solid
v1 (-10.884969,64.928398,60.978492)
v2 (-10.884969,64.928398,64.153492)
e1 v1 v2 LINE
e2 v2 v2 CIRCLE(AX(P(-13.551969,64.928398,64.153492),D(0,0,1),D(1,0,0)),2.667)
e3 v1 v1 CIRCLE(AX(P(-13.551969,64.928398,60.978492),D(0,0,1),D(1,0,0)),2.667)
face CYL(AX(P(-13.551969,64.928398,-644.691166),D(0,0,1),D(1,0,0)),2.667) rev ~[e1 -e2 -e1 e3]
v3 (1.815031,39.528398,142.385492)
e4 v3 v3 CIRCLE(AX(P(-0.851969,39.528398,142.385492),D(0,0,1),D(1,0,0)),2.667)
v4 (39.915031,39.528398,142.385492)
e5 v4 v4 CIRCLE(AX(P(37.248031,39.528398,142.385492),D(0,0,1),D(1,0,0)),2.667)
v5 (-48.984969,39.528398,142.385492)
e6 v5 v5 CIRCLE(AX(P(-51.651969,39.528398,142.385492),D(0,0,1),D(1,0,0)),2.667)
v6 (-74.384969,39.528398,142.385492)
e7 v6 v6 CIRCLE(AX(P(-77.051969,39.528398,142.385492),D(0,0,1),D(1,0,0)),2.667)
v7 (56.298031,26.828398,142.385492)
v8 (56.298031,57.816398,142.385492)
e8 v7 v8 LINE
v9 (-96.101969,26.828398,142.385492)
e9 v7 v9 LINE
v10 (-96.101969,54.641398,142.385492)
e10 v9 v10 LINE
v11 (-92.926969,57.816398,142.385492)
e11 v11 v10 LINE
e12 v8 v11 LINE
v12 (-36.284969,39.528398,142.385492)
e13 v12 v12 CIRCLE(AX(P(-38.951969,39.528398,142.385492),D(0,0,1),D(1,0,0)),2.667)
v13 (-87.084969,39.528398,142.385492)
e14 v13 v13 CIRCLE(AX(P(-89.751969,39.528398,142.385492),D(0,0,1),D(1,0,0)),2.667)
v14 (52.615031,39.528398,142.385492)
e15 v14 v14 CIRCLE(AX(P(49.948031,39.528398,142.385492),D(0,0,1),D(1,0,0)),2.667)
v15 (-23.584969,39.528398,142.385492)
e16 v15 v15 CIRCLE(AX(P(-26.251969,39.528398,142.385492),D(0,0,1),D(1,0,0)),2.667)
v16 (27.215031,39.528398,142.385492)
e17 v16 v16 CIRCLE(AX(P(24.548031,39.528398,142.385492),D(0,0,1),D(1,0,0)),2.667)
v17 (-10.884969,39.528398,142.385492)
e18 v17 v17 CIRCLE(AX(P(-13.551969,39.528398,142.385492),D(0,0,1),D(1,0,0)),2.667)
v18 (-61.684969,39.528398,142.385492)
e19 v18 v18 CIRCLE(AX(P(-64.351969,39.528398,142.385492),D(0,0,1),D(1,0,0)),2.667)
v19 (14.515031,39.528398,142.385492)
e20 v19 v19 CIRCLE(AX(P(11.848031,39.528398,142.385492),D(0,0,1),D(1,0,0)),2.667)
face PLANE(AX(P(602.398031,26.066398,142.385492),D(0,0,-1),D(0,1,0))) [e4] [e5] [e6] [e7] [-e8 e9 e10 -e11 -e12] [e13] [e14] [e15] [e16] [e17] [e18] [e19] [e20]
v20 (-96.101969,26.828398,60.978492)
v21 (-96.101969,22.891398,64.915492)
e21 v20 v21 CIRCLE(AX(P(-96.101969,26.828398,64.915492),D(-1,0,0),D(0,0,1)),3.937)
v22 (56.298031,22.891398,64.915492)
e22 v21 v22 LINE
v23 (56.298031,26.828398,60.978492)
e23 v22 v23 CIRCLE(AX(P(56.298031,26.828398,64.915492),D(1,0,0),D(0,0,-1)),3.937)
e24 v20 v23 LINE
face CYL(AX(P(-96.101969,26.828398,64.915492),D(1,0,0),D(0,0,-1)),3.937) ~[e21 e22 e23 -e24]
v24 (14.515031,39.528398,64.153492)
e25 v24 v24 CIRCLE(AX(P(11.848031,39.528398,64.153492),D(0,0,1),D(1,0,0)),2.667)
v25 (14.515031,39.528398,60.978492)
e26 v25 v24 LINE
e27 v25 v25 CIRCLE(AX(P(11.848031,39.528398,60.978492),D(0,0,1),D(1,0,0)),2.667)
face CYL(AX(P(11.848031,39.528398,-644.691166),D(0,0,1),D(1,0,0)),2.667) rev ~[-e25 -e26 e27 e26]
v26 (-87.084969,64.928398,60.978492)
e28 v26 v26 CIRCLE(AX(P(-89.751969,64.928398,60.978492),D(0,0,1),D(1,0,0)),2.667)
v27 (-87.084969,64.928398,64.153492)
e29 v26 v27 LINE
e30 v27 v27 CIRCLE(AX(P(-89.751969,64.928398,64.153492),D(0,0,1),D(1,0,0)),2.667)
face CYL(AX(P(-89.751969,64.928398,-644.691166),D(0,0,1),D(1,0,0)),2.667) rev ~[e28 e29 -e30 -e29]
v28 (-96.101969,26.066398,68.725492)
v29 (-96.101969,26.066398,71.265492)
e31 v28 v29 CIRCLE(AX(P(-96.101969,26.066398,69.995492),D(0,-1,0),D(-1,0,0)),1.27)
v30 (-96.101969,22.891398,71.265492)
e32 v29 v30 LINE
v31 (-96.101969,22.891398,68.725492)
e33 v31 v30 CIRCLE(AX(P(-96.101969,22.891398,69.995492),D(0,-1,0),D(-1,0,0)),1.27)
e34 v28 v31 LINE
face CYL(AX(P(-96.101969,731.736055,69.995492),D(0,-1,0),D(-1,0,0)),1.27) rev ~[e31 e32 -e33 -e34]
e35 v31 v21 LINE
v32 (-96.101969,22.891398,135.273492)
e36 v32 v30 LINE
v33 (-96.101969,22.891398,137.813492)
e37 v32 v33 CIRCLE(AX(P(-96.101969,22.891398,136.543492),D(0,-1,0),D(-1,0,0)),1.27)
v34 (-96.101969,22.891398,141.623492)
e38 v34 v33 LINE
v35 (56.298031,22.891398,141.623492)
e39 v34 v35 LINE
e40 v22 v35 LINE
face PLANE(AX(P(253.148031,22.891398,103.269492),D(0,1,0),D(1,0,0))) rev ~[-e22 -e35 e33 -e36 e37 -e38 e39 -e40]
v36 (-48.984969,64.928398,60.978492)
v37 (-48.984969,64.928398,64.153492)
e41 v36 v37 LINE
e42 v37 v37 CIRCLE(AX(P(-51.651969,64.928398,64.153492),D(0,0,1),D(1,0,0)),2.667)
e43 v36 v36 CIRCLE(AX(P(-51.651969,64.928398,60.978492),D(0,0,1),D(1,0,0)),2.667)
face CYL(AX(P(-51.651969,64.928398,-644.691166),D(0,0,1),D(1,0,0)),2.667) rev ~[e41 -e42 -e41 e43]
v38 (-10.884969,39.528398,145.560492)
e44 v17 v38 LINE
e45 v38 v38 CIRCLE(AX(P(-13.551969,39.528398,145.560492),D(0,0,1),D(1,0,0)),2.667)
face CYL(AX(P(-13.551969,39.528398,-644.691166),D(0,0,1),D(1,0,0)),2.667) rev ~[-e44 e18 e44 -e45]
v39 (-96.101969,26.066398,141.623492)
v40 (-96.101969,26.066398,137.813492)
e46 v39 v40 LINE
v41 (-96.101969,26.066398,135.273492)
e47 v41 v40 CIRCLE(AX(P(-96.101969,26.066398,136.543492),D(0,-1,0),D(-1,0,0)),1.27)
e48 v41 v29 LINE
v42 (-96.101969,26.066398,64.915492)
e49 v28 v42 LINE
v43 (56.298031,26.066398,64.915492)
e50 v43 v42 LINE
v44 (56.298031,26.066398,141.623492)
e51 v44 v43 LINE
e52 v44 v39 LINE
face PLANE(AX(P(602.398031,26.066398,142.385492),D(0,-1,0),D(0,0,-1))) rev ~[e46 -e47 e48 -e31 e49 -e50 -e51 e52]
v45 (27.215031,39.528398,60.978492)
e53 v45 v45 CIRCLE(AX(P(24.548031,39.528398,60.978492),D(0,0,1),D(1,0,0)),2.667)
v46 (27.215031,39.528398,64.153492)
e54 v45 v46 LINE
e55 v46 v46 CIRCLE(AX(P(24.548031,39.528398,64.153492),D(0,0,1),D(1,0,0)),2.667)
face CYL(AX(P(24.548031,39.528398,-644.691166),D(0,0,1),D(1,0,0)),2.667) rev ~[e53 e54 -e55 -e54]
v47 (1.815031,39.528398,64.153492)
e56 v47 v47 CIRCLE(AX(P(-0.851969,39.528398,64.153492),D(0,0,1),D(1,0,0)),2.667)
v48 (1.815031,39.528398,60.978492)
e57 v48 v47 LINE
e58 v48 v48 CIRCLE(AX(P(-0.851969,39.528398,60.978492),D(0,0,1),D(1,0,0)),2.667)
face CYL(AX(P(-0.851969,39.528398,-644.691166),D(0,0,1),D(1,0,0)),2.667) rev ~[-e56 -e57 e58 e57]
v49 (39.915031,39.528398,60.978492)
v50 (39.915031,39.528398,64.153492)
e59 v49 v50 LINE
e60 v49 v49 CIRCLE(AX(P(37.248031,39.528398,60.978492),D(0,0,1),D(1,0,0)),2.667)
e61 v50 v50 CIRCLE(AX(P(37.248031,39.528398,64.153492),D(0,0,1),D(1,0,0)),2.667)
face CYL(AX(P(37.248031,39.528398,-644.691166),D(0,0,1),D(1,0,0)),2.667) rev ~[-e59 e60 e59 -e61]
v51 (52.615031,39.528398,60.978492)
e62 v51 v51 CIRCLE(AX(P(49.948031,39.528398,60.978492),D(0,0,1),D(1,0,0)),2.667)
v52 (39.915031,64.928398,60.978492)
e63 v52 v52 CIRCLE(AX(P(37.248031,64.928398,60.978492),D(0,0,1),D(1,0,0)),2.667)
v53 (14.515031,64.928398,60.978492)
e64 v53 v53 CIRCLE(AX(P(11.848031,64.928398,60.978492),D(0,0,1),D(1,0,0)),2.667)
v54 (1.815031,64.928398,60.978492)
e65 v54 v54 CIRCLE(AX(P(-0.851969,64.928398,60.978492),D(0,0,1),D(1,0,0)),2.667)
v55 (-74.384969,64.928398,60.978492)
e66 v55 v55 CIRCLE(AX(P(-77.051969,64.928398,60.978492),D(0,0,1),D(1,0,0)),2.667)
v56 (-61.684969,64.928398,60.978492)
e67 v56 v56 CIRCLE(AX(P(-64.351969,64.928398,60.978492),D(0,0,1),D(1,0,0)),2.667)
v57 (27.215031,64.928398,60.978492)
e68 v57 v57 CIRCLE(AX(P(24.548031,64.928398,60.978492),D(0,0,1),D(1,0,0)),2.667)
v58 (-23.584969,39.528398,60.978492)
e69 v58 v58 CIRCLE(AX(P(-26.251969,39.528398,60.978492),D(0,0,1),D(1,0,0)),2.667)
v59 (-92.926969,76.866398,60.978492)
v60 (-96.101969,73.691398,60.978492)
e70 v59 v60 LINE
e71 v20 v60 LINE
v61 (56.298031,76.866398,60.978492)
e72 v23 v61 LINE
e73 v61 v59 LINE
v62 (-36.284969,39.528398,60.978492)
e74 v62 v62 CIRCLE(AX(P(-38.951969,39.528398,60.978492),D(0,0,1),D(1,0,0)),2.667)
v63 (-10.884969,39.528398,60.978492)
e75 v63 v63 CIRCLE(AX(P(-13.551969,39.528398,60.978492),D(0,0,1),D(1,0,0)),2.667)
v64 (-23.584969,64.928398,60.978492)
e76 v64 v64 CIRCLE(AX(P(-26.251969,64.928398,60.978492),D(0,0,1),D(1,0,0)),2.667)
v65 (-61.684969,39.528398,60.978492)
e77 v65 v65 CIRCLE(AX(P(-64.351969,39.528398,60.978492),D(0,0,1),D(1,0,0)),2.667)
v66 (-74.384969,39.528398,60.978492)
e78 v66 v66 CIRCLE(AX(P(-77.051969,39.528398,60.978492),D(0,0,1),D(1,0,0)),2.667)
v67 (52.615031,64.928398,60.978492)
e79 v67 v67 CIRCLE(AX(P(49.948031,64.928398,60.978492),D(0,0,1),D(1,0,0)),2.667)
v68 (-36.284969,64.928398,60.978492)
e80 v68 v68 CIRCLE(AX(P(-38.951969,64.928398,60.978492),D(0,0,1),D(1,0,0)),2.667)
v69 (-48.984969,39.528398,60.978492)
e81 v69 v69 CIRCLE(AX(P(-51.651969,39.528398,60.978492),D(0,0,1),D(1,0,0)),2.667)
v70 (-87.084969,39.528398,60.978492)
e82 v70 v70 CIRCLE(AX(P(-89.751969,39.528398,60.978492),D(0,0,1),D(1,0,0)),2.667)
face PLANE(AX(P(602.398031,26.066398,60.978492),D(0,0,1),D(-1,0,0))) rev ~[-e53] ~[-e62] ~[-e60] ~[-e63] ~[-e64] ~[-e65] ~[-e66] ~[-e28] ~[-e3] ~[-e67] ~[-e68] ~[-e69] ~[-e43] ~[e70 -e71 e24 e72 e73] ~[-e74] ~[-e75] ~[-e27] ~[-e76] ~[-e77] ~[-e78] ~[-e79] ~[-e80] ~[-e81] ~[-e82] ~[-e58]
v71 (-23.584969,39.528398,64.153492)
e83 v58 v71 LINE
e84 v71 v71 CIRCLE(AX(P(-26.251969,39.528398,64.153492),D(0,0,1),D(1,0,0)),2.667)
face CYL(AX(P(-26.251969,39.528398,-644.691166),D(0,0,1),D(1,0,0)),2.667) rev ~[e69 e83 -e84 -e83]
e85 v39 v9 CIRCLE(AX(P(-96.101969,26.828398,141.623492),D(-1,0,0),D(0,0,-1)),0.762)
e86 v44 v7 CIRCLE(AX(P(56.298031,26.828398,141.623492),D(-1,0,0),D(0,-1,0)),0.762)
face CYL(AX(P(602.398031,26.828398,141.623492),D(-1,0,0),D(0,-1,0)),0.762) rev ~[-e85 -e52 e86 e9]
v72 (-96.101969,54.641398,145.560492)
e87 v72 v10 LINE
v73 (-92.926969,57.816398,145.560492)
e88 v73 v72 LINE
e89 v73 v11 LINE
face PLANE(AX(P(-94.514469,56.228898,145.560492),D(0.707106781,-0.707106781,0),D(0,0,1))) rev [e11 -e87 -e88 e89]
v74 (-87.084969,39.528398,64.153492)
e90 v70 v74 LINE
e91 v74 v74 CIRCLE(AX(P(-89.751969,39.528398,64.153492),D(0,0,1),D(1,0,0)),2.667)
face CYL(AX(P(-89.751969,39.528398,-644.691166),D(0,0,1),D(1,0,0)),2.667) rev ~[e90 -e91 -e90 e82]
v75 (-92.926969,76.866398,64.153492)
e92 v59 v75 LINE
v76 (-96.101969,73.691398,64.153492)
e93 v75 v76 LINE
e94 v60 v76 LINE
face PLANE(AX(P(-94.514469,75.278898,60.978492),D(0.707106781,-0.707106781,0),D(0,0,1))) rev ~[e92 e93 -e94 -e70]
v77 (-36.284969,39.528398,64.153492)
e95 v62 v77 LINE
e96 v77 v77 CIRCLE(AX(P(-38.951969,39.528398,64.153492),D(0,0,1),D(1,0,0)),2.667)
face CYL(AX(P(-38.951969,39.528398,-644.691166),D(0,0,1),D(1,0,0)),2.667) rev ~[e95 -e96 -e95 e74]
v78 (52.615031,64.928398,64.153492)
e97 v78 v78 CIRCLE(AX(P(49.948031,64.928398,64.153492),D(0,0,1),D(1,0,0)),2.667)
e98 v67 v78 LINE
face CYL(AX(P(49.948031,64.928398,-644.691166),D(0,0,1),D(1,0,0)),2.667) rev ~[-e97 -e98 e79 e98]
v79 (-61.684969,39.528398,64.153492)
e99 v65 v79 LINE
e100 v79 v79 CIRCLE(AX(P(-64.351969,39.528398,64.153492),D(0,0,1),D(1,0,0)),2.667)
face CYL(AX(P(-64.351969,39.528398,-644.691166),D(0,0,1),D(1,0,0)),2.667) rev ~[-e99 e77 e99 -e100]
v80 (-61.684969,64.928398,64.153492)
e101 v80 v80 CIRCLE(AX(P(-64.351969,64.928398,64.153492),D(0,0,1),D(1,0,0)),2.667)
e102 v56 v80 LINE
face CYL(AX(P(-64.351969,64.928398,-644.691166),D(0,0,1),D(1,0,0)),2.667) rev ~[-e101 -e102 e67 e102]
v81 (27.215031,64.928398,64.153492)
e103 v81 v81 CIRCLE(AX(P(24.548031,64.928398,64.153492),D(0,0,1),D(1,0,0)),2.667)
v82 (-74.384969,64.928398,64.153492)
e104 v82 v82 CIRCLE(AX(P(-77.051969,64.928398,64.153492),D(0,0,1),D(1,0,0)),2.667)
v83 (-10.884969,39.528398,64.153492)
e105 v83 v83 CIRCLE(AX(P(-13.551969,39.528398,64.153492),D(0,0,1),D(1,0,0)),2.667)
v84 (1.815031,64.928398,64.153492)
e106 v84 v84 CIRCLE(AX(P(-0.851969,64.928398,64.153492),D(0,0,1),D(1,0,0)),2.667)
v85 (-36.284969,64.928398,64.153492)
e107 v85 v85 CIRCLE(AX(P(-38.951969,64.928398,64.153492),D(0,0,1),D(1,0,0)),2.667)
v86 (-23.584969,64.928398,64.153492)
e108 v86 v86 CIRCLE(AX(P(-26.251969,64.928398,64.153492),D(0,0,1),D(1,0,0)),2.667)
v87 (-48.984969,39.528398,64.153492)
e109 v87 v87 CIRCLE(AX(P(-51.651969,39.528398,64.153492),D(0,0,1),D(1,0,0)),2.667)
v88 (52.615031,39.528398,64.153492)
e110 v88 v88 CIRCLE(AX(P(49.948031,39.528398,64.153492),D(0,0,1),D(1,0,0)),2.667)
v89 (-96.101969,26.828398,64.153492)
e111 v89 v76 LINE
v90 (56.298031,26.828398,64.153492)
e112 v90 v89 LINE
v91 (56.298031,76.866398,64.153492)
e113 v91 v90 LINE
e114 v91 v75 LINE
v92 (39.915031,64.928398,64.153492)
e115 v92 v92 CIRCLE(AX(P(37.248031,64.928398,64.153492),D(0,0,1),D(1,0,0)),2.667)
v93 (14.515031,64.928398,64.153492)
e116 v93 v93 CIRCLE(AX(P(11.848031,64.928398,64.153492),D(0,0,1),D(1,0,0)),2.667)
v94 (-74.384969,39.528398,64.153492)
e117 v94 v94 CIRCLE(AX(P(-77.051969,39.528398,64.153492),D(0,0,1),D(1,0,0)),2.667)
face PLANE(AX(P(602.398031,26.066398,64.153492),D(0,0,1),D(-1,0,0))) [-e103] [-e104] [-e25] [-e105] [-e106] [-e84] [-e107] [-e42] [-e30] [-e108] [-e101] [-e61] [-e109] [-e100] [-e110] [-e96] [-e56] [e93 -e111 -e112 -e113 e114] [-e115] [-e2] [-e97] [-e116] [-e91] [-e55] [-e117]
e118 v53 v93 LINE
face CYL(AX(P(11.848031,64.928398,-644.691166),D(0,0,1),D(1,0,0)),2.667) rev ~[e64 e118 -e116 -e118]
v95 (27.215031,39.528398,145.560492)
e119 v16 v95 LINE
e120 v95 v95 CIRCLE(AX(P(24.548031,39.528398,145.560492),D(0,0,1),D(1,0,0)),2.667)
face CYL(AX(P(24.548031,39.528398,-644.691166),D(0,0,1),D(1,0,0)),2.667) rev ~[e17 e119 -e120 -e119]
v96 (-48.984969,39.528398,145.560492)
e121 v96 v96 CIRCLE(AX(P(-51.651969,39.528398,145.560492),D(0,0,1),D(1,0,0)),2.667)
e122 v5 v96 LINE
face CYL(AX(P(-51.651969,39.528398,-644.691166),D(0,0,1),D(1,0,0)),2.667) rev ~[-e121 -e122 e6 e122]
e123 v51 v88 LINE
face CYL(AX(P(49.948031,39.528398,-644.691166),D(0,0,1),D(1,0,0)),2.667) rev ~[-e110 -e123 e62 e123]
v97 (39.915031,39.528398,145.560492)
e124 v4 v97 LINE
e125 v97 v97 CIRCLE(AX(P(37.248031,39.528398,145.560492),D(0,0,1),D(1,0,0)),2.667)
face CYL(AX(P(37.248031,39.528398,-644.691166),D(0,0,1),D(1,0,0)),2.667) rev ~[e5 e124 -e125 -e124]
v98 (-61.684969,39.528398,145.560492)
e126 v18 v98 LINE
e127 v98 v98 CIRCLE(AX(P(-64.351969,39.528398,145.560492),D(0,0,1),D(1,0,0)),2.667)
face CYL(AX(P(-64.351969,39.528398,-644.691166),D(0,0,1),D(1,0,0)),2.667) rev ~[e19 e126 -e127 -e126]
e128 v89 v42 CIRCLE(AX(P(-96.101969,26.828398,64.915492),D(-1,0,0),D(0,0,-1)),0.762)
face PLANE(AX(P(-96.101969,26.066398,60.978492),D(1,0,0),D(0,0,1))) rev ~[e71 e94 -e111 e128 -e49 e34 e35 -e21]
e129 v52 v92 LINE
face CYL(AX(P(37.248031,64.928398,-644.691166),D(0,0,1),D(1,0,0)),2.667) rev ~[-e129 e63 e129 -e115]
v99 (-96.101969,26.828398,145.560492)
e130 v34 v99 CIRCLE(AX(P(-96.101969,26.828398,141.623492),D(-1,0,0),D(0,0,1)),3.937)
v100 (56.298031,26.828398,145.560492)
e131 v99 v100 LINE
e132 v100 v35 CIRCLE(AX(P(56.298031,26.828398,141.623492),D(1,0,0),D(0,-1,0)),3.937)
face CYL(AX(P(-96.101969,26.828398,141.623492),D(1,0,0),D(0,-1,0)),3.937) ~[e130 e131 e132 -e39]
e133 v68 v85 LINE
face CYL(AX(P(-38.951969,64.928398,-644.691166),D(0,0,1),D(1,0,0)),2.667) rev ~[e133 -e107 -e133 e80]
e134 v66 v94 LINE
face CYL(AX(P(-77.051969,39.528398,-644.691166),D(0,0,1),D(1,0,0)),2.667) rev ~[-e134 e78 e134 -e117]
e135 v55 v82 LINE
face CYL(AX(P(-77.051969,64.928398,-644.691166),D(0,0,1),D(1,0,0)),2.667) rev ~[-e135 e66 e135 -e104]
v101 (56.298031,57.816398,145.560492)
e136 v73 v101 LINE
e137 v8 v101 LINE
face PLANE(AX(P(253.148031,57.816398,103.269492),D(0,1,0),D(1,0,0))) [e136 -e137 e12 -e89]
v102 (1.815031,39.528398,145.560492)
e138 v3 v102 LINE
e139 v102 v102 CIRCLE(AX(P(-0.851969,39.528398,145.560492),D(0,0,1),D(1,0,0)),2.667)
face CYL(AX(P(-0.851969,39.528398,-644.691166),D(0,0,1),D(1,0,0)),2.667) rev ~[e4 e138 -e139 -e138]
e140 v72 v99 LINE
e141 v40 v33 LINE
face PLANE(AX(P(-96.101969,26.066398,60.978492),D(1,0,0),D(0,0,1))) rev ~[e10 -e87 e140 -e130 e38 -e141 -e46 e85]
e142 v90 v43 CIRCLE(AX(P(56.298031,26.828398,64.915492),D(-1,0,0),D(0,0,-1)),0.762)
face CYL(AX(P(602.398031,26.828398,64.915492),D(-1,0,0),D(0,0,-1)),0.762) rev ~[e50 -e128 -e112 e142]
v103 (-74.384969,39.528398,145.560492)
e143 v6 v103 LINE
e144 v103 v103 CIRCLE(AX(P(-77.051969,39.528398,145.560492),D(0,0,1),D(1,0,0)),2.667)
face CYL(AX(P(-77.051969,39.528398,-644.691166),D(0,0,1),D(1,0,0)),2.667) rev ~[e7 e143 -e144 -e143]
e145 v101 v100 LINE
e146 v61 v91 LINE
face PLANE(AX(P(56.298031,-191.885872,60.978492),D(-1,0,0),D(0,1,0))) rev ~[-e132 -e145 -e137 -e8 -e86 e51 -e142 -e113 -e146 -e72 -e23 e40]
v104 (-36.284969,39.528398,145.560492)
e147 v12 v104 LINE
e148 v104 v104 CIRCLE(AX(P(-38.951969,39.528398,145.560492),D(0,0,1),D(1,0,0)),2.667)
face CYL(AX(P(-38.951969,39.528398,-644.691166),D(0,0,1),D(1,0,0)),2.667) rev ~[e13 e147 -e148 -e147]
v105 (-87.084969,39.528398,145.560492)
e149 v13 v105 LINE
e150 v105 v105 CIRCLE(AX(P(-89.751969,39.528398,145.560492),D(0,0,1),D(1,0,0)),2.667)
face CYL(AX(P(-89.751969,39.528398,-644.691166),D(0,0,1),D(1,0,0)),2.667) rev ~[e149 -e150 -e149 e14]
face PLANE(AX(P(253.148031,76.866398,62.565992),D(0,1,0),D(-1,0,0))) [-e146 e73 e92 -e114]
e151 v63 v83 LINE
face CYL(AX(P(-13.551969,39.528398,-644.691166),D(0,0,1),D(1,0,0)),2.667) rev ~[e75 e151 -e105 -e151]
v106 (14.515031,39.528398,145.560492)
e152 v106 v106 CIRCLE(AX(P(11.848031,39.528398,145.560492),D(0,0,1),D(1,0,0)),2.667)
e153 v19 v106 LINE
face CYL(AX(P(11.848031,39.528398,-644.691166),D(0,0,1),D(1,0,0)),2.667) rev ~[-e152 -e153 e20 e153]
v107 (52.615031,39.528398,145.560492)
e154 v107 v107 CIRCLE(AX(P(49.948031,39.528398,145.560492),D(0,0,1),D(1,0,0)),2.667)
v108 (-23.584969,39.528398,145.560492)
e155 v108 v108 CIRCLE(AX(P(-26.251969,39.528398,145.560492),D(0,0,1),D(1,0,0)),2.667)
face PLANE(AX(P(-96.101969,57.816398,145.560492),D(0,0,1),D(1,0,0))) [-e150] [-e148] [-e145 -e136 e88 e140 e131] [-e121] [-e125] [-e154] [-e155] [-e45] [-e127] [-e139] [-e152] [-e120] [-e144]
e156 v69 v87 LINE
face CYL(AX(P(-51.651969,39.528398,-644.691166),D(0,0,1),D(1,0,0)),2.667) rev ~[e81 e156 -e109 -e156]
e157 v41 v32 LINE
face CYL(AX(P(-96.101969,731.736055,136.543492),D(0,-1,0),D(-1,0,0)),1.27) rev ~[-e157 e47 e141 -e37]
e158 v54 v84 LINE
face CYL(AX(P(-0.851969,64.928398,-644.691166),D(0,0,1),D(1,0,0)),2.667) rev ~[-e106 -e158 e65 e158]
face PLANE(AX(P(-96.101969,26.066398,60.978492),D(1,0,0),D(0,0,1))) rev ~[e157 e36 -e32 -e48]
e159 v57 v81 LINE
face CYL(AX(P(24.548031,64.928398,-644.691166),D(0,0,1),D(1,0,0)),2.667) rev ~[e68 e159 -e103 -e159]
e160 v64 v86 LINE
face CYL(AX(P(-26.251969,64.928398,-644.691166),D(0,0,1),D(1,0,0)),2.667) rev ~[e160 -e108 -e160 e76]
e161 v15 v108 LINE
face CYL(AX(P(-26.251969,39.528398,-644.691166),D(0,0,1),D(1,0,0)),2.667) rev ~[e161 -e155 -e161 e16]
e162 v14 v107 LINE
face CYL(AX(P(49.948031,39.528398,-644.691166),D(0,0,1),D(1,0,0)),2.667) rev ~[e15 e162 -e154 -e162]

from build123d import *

# Parameters (mm, degrees)
SKETCH1_W            = 698.5
SKETCH1_H            = 84.582
BOSS_EXTRUDE1_DEPTH  = 34.925
SKETCH2_W            = 81.407
SKETCH2_H            = 31.75
CUT_EXTRUDE1_DEPTH   = 699.5
SKETCH3_W            = 698.5
SKETCH3_H            = 3.175
BOSS_EXTRUDE2_DEPTH  = 50.8
M2_CLEARANCE_HOLE1_D = 2.54
M5_CLEARANCE_HOLE1_D = 5.334
CHAMFER1_SIZE        = 3.175
FILLET1_R            = 0.762
FILLET2_R            = 3.937
SKETCH8_W            = 848.789904452
SKETCH8_H            = 432.95839962
CUT_EXTRUDE2_DEPTH   = 85.582


with BuildPart() as part:
    # Sketch1 → Boss-Extrude1 (new body)
    with BuildSketch(Plane(origin=(0, 57.816398039, 0), x_dir=(1, 0, 0), z_dir=(0, 1, 0))):
        with Locations((253.148031467, -103.269491579)):
            Rectangle(SKETCH1_W, SKETCH1_H)
    extrude(amount=-BOSS_EXTRUDE1_DEPTH)

    # Sketch2 → Cut-Extrude1 (cut, through all)
    with BuildSketch(Plane(origin=(602.398031467, 0, 0), x_dir=(0, 0, -1), z_dir=(1, 0, 0))):
        with Locations((-101.681991579, 41.941398039)):
            Rectangle(SKETCH2_W, SKETCH2_H)
    extrude(amount=-CUT_EXTRUDE1_DEPTH, mode=Mode.SUBTRACT)

    # Sketch3 → Boss-Extrude2 (add)
    with BuildSketch(Plane(origin=(0, 26.066398039, 0), x_dir=(-1, 0, 0), z_dir=(0, 1, 0))):
        with Locations((-253.148031467, 62.565991579)):
            Rectangle(SKETCH3_W, SKETCH3_H)
    extrude(amount=BOSS_EXTRUDE2_DEPTH)

    # M2 Clearance Hole1 (through all)
    with Locations(Plane(origin=(0, 26.066398039, 0), x_dir=(1, 0, 0), z_dir=(0, 1, 0))):
        with Locations((-96.101968533, -136.543491579), (-96.101968533, -69.995491579)):
            Hole(M2_CLEARANCE_HOLE1_D / 2)

    # M5 Clearance Hole1 (through all)
    with Locations(Plane(origin=(0, 0, 60.978491579), x_dir=(-1, 0, 0), z_dir=(0, 0, -1))):
        with Locations((-469.048031467, 64.928398039), (-481.748031467, 64.928398039), (-469.048031467, 39.528398039), (-481.748031467, 39.528398039), (-456.348031467, 39.528398039), (-443.648031467, 39.528398039), (-430.948031467, 39.528398039), (-418.248031467, 39.528398039), (-405.548031467, 39.528398039), (-392.848031467, 39.528398039), (-380.148031467, 39.528398039), (-367.448031467, 39.528398039), (-354.748031467, 39.528398039), (-342.048031467, 39.528398039), (-329.348031467, 39.528398039), (-316.648031467, 39.528398039), (-303.948031467, 39.528398039), (-291.248031467, 39.528398039), (-278.548031467, 39.528398039), (-265.848031467, 39.528398039), (-253.148031467, 39.528398039), (-240.448031467, 39.528398039), (-227.748031467, 39.528398039), (-215.048031467, 39.528398039), (-202.348031467, 39.528398039), (-189.648031467, 39.528398039), (-176.948031467, 39.528398039), (-164.248031467, 39.528398039), (-151.548031467, 39.528398039), (-138.848031467, 39.528398039), (-126.148031467, 39.528398039), (-113.448031467, 39.528398039), (-100.748031467, 39.528398039), (-88.048031467, 39.528398039), (-75.348031467, 39.528398039), (-62.648031467, 39.528398039), (-49.948031467, 39.528398039), (-37.248031467, 39.528398039), (-24.548031467, 39.528398039), (-11.848031467, 39.528398039), (0.851968533, 39.528398039), (13.551968533, 39.528398039), (26.251968533, 39.528398039), (38.951968533, 39.528398039), (51.651968533, 39.528398039), (64.351968533, 39.528398039), (77.051968533, 39.528398039), (89.751968533, 39.528398039), (-456.348031467, 64.928398039), (-443.648031467, 64.928398039), (-430.948031467, 64.928398039), (-418.248031467, 64.928398039), (-405.548031467, 64.928398039), (-392.848031467, 64.928398039), (-380.148031467, 64.928398039), (-367.448031467, 64.928398039), (-354.748031467, 64.928398039), (-342.048031467, 64.928398039), (-329.348031467, 64.928398039), (-316.648031467, 64.928398039), (-303.948031467, 64.928398039), (-291.248031467, 64.928398039), (-278.548031467, 64.928398039), (-265.848031467, 64.928398039), (-253.148031467, 64.928398039), (-240.448031467, 64.928398039), (-227.748031467, 64.928398039), (-215.048031467, 64.928398039), (-202.348031467, 64.928398039), (-189.648031467, 64.928398039), (-176.948031467, 64.928398039), (-164.248031467, 64.928398039), (-151.548031467, 64.928398039), (-138.848031467, 64.928398039), (-126.148031467, 64.928398039), (-113.448031467, 64.928398039), (-100.748031467, 64.928398039), (-88.048031467, 64.928398039), (-75.348031467, 64.928398039), (-62.648031467, 64.928398039), (-49.948031467, 64.928398039), (-37.248031467, 64.928398039), (-24.548031467, 64.928398039), (-11.848031467, 64.928398039), (0.851968533, 64.928398039), (13.551968533, 64.928398039), (26.251968533, 64.928398039), (38.951968533, 64.928398039), (51.651968533, 64.928398039), (64.351968533, 64.928398039), (77.051968533, 64.928398039), (89.751968533, 64.928398039), (-494.448031467, 64.928398039), (-494.448031467, 39.528398039), (-507.148031467, 64.928398039), (-507.148031467, 39.528398039), (-519.848031467, 64.928398039), (-519.848031467, 39.528398039), (-532.548031467, 64.928398039), (-532.548031467, 39.528398039), (-545.248031467, 64.928398039), (-545.248031467, 39.528398039), (-557.948031467, 64.928398039), (-557.948031467, 39.528398039), (-570.648031467, 64.928398039), (-570.648031467, 39.528398039), (-583.348031467, 64.928398039), (-583.348031467, 39.528398039), (-596.048031467, 64.928398039), (-596.048031467, 39.528398039)):
            Hole(M5_CLEARANCE_HOLE1_D / 2)

    # Chamfer1
    chamfer1_edges = [part.edges().sort_by_distance(p)[0] for p in [
        (-96.101968533, 57.816398039, 143.972991579),
        (-96.101968533, 76.866398039, 62.565991579),
        (602.398031467, 76.866398039, 62.565991579),
        (602.398031467, 57.816398039, 143.972991579),
    ]]
    chamfer(chamfer1_edges, length=CHAMFER1_SIZE)

    # Fillet1
    fillet1_edges = [part.edges().sort_by_distance(p)[0] for p in [
        (253.148031467, 26.066398039, 142.385491579),
        (253.148031467, 26.066398039, 64.153491579),
    ]]
    fillet(fillet1_edges, radius=FILLET1_R)

    # Fillet2
    fillet2_edges = [part.edges().sort_by_distance(p)[0] for p in [
        (253.148031467, 22.891398039, 60.978491579),
        (253.148031467, 22.891398039, 145.560491579),
    ]]
    fillet(fillet2_edges, radius=FILLET2_R)

    # Sketch8 → Cut-Extrude2 (cut, through all)
    with BuildSketch(Plane(origin=(0, 0, 60.978491579), x_dir=(-1, 0, 0), z_dir=(0, 0, -1))):
        with Locations((-480.692983693, 24.593327381)):
            Rectangle(SKETCH8_W, SKETCH8_H)
    extrude(amount=-CUT_EXTRUDE2_DEPTH, mode=Mode.SUBTRACT)


solid = part.part
